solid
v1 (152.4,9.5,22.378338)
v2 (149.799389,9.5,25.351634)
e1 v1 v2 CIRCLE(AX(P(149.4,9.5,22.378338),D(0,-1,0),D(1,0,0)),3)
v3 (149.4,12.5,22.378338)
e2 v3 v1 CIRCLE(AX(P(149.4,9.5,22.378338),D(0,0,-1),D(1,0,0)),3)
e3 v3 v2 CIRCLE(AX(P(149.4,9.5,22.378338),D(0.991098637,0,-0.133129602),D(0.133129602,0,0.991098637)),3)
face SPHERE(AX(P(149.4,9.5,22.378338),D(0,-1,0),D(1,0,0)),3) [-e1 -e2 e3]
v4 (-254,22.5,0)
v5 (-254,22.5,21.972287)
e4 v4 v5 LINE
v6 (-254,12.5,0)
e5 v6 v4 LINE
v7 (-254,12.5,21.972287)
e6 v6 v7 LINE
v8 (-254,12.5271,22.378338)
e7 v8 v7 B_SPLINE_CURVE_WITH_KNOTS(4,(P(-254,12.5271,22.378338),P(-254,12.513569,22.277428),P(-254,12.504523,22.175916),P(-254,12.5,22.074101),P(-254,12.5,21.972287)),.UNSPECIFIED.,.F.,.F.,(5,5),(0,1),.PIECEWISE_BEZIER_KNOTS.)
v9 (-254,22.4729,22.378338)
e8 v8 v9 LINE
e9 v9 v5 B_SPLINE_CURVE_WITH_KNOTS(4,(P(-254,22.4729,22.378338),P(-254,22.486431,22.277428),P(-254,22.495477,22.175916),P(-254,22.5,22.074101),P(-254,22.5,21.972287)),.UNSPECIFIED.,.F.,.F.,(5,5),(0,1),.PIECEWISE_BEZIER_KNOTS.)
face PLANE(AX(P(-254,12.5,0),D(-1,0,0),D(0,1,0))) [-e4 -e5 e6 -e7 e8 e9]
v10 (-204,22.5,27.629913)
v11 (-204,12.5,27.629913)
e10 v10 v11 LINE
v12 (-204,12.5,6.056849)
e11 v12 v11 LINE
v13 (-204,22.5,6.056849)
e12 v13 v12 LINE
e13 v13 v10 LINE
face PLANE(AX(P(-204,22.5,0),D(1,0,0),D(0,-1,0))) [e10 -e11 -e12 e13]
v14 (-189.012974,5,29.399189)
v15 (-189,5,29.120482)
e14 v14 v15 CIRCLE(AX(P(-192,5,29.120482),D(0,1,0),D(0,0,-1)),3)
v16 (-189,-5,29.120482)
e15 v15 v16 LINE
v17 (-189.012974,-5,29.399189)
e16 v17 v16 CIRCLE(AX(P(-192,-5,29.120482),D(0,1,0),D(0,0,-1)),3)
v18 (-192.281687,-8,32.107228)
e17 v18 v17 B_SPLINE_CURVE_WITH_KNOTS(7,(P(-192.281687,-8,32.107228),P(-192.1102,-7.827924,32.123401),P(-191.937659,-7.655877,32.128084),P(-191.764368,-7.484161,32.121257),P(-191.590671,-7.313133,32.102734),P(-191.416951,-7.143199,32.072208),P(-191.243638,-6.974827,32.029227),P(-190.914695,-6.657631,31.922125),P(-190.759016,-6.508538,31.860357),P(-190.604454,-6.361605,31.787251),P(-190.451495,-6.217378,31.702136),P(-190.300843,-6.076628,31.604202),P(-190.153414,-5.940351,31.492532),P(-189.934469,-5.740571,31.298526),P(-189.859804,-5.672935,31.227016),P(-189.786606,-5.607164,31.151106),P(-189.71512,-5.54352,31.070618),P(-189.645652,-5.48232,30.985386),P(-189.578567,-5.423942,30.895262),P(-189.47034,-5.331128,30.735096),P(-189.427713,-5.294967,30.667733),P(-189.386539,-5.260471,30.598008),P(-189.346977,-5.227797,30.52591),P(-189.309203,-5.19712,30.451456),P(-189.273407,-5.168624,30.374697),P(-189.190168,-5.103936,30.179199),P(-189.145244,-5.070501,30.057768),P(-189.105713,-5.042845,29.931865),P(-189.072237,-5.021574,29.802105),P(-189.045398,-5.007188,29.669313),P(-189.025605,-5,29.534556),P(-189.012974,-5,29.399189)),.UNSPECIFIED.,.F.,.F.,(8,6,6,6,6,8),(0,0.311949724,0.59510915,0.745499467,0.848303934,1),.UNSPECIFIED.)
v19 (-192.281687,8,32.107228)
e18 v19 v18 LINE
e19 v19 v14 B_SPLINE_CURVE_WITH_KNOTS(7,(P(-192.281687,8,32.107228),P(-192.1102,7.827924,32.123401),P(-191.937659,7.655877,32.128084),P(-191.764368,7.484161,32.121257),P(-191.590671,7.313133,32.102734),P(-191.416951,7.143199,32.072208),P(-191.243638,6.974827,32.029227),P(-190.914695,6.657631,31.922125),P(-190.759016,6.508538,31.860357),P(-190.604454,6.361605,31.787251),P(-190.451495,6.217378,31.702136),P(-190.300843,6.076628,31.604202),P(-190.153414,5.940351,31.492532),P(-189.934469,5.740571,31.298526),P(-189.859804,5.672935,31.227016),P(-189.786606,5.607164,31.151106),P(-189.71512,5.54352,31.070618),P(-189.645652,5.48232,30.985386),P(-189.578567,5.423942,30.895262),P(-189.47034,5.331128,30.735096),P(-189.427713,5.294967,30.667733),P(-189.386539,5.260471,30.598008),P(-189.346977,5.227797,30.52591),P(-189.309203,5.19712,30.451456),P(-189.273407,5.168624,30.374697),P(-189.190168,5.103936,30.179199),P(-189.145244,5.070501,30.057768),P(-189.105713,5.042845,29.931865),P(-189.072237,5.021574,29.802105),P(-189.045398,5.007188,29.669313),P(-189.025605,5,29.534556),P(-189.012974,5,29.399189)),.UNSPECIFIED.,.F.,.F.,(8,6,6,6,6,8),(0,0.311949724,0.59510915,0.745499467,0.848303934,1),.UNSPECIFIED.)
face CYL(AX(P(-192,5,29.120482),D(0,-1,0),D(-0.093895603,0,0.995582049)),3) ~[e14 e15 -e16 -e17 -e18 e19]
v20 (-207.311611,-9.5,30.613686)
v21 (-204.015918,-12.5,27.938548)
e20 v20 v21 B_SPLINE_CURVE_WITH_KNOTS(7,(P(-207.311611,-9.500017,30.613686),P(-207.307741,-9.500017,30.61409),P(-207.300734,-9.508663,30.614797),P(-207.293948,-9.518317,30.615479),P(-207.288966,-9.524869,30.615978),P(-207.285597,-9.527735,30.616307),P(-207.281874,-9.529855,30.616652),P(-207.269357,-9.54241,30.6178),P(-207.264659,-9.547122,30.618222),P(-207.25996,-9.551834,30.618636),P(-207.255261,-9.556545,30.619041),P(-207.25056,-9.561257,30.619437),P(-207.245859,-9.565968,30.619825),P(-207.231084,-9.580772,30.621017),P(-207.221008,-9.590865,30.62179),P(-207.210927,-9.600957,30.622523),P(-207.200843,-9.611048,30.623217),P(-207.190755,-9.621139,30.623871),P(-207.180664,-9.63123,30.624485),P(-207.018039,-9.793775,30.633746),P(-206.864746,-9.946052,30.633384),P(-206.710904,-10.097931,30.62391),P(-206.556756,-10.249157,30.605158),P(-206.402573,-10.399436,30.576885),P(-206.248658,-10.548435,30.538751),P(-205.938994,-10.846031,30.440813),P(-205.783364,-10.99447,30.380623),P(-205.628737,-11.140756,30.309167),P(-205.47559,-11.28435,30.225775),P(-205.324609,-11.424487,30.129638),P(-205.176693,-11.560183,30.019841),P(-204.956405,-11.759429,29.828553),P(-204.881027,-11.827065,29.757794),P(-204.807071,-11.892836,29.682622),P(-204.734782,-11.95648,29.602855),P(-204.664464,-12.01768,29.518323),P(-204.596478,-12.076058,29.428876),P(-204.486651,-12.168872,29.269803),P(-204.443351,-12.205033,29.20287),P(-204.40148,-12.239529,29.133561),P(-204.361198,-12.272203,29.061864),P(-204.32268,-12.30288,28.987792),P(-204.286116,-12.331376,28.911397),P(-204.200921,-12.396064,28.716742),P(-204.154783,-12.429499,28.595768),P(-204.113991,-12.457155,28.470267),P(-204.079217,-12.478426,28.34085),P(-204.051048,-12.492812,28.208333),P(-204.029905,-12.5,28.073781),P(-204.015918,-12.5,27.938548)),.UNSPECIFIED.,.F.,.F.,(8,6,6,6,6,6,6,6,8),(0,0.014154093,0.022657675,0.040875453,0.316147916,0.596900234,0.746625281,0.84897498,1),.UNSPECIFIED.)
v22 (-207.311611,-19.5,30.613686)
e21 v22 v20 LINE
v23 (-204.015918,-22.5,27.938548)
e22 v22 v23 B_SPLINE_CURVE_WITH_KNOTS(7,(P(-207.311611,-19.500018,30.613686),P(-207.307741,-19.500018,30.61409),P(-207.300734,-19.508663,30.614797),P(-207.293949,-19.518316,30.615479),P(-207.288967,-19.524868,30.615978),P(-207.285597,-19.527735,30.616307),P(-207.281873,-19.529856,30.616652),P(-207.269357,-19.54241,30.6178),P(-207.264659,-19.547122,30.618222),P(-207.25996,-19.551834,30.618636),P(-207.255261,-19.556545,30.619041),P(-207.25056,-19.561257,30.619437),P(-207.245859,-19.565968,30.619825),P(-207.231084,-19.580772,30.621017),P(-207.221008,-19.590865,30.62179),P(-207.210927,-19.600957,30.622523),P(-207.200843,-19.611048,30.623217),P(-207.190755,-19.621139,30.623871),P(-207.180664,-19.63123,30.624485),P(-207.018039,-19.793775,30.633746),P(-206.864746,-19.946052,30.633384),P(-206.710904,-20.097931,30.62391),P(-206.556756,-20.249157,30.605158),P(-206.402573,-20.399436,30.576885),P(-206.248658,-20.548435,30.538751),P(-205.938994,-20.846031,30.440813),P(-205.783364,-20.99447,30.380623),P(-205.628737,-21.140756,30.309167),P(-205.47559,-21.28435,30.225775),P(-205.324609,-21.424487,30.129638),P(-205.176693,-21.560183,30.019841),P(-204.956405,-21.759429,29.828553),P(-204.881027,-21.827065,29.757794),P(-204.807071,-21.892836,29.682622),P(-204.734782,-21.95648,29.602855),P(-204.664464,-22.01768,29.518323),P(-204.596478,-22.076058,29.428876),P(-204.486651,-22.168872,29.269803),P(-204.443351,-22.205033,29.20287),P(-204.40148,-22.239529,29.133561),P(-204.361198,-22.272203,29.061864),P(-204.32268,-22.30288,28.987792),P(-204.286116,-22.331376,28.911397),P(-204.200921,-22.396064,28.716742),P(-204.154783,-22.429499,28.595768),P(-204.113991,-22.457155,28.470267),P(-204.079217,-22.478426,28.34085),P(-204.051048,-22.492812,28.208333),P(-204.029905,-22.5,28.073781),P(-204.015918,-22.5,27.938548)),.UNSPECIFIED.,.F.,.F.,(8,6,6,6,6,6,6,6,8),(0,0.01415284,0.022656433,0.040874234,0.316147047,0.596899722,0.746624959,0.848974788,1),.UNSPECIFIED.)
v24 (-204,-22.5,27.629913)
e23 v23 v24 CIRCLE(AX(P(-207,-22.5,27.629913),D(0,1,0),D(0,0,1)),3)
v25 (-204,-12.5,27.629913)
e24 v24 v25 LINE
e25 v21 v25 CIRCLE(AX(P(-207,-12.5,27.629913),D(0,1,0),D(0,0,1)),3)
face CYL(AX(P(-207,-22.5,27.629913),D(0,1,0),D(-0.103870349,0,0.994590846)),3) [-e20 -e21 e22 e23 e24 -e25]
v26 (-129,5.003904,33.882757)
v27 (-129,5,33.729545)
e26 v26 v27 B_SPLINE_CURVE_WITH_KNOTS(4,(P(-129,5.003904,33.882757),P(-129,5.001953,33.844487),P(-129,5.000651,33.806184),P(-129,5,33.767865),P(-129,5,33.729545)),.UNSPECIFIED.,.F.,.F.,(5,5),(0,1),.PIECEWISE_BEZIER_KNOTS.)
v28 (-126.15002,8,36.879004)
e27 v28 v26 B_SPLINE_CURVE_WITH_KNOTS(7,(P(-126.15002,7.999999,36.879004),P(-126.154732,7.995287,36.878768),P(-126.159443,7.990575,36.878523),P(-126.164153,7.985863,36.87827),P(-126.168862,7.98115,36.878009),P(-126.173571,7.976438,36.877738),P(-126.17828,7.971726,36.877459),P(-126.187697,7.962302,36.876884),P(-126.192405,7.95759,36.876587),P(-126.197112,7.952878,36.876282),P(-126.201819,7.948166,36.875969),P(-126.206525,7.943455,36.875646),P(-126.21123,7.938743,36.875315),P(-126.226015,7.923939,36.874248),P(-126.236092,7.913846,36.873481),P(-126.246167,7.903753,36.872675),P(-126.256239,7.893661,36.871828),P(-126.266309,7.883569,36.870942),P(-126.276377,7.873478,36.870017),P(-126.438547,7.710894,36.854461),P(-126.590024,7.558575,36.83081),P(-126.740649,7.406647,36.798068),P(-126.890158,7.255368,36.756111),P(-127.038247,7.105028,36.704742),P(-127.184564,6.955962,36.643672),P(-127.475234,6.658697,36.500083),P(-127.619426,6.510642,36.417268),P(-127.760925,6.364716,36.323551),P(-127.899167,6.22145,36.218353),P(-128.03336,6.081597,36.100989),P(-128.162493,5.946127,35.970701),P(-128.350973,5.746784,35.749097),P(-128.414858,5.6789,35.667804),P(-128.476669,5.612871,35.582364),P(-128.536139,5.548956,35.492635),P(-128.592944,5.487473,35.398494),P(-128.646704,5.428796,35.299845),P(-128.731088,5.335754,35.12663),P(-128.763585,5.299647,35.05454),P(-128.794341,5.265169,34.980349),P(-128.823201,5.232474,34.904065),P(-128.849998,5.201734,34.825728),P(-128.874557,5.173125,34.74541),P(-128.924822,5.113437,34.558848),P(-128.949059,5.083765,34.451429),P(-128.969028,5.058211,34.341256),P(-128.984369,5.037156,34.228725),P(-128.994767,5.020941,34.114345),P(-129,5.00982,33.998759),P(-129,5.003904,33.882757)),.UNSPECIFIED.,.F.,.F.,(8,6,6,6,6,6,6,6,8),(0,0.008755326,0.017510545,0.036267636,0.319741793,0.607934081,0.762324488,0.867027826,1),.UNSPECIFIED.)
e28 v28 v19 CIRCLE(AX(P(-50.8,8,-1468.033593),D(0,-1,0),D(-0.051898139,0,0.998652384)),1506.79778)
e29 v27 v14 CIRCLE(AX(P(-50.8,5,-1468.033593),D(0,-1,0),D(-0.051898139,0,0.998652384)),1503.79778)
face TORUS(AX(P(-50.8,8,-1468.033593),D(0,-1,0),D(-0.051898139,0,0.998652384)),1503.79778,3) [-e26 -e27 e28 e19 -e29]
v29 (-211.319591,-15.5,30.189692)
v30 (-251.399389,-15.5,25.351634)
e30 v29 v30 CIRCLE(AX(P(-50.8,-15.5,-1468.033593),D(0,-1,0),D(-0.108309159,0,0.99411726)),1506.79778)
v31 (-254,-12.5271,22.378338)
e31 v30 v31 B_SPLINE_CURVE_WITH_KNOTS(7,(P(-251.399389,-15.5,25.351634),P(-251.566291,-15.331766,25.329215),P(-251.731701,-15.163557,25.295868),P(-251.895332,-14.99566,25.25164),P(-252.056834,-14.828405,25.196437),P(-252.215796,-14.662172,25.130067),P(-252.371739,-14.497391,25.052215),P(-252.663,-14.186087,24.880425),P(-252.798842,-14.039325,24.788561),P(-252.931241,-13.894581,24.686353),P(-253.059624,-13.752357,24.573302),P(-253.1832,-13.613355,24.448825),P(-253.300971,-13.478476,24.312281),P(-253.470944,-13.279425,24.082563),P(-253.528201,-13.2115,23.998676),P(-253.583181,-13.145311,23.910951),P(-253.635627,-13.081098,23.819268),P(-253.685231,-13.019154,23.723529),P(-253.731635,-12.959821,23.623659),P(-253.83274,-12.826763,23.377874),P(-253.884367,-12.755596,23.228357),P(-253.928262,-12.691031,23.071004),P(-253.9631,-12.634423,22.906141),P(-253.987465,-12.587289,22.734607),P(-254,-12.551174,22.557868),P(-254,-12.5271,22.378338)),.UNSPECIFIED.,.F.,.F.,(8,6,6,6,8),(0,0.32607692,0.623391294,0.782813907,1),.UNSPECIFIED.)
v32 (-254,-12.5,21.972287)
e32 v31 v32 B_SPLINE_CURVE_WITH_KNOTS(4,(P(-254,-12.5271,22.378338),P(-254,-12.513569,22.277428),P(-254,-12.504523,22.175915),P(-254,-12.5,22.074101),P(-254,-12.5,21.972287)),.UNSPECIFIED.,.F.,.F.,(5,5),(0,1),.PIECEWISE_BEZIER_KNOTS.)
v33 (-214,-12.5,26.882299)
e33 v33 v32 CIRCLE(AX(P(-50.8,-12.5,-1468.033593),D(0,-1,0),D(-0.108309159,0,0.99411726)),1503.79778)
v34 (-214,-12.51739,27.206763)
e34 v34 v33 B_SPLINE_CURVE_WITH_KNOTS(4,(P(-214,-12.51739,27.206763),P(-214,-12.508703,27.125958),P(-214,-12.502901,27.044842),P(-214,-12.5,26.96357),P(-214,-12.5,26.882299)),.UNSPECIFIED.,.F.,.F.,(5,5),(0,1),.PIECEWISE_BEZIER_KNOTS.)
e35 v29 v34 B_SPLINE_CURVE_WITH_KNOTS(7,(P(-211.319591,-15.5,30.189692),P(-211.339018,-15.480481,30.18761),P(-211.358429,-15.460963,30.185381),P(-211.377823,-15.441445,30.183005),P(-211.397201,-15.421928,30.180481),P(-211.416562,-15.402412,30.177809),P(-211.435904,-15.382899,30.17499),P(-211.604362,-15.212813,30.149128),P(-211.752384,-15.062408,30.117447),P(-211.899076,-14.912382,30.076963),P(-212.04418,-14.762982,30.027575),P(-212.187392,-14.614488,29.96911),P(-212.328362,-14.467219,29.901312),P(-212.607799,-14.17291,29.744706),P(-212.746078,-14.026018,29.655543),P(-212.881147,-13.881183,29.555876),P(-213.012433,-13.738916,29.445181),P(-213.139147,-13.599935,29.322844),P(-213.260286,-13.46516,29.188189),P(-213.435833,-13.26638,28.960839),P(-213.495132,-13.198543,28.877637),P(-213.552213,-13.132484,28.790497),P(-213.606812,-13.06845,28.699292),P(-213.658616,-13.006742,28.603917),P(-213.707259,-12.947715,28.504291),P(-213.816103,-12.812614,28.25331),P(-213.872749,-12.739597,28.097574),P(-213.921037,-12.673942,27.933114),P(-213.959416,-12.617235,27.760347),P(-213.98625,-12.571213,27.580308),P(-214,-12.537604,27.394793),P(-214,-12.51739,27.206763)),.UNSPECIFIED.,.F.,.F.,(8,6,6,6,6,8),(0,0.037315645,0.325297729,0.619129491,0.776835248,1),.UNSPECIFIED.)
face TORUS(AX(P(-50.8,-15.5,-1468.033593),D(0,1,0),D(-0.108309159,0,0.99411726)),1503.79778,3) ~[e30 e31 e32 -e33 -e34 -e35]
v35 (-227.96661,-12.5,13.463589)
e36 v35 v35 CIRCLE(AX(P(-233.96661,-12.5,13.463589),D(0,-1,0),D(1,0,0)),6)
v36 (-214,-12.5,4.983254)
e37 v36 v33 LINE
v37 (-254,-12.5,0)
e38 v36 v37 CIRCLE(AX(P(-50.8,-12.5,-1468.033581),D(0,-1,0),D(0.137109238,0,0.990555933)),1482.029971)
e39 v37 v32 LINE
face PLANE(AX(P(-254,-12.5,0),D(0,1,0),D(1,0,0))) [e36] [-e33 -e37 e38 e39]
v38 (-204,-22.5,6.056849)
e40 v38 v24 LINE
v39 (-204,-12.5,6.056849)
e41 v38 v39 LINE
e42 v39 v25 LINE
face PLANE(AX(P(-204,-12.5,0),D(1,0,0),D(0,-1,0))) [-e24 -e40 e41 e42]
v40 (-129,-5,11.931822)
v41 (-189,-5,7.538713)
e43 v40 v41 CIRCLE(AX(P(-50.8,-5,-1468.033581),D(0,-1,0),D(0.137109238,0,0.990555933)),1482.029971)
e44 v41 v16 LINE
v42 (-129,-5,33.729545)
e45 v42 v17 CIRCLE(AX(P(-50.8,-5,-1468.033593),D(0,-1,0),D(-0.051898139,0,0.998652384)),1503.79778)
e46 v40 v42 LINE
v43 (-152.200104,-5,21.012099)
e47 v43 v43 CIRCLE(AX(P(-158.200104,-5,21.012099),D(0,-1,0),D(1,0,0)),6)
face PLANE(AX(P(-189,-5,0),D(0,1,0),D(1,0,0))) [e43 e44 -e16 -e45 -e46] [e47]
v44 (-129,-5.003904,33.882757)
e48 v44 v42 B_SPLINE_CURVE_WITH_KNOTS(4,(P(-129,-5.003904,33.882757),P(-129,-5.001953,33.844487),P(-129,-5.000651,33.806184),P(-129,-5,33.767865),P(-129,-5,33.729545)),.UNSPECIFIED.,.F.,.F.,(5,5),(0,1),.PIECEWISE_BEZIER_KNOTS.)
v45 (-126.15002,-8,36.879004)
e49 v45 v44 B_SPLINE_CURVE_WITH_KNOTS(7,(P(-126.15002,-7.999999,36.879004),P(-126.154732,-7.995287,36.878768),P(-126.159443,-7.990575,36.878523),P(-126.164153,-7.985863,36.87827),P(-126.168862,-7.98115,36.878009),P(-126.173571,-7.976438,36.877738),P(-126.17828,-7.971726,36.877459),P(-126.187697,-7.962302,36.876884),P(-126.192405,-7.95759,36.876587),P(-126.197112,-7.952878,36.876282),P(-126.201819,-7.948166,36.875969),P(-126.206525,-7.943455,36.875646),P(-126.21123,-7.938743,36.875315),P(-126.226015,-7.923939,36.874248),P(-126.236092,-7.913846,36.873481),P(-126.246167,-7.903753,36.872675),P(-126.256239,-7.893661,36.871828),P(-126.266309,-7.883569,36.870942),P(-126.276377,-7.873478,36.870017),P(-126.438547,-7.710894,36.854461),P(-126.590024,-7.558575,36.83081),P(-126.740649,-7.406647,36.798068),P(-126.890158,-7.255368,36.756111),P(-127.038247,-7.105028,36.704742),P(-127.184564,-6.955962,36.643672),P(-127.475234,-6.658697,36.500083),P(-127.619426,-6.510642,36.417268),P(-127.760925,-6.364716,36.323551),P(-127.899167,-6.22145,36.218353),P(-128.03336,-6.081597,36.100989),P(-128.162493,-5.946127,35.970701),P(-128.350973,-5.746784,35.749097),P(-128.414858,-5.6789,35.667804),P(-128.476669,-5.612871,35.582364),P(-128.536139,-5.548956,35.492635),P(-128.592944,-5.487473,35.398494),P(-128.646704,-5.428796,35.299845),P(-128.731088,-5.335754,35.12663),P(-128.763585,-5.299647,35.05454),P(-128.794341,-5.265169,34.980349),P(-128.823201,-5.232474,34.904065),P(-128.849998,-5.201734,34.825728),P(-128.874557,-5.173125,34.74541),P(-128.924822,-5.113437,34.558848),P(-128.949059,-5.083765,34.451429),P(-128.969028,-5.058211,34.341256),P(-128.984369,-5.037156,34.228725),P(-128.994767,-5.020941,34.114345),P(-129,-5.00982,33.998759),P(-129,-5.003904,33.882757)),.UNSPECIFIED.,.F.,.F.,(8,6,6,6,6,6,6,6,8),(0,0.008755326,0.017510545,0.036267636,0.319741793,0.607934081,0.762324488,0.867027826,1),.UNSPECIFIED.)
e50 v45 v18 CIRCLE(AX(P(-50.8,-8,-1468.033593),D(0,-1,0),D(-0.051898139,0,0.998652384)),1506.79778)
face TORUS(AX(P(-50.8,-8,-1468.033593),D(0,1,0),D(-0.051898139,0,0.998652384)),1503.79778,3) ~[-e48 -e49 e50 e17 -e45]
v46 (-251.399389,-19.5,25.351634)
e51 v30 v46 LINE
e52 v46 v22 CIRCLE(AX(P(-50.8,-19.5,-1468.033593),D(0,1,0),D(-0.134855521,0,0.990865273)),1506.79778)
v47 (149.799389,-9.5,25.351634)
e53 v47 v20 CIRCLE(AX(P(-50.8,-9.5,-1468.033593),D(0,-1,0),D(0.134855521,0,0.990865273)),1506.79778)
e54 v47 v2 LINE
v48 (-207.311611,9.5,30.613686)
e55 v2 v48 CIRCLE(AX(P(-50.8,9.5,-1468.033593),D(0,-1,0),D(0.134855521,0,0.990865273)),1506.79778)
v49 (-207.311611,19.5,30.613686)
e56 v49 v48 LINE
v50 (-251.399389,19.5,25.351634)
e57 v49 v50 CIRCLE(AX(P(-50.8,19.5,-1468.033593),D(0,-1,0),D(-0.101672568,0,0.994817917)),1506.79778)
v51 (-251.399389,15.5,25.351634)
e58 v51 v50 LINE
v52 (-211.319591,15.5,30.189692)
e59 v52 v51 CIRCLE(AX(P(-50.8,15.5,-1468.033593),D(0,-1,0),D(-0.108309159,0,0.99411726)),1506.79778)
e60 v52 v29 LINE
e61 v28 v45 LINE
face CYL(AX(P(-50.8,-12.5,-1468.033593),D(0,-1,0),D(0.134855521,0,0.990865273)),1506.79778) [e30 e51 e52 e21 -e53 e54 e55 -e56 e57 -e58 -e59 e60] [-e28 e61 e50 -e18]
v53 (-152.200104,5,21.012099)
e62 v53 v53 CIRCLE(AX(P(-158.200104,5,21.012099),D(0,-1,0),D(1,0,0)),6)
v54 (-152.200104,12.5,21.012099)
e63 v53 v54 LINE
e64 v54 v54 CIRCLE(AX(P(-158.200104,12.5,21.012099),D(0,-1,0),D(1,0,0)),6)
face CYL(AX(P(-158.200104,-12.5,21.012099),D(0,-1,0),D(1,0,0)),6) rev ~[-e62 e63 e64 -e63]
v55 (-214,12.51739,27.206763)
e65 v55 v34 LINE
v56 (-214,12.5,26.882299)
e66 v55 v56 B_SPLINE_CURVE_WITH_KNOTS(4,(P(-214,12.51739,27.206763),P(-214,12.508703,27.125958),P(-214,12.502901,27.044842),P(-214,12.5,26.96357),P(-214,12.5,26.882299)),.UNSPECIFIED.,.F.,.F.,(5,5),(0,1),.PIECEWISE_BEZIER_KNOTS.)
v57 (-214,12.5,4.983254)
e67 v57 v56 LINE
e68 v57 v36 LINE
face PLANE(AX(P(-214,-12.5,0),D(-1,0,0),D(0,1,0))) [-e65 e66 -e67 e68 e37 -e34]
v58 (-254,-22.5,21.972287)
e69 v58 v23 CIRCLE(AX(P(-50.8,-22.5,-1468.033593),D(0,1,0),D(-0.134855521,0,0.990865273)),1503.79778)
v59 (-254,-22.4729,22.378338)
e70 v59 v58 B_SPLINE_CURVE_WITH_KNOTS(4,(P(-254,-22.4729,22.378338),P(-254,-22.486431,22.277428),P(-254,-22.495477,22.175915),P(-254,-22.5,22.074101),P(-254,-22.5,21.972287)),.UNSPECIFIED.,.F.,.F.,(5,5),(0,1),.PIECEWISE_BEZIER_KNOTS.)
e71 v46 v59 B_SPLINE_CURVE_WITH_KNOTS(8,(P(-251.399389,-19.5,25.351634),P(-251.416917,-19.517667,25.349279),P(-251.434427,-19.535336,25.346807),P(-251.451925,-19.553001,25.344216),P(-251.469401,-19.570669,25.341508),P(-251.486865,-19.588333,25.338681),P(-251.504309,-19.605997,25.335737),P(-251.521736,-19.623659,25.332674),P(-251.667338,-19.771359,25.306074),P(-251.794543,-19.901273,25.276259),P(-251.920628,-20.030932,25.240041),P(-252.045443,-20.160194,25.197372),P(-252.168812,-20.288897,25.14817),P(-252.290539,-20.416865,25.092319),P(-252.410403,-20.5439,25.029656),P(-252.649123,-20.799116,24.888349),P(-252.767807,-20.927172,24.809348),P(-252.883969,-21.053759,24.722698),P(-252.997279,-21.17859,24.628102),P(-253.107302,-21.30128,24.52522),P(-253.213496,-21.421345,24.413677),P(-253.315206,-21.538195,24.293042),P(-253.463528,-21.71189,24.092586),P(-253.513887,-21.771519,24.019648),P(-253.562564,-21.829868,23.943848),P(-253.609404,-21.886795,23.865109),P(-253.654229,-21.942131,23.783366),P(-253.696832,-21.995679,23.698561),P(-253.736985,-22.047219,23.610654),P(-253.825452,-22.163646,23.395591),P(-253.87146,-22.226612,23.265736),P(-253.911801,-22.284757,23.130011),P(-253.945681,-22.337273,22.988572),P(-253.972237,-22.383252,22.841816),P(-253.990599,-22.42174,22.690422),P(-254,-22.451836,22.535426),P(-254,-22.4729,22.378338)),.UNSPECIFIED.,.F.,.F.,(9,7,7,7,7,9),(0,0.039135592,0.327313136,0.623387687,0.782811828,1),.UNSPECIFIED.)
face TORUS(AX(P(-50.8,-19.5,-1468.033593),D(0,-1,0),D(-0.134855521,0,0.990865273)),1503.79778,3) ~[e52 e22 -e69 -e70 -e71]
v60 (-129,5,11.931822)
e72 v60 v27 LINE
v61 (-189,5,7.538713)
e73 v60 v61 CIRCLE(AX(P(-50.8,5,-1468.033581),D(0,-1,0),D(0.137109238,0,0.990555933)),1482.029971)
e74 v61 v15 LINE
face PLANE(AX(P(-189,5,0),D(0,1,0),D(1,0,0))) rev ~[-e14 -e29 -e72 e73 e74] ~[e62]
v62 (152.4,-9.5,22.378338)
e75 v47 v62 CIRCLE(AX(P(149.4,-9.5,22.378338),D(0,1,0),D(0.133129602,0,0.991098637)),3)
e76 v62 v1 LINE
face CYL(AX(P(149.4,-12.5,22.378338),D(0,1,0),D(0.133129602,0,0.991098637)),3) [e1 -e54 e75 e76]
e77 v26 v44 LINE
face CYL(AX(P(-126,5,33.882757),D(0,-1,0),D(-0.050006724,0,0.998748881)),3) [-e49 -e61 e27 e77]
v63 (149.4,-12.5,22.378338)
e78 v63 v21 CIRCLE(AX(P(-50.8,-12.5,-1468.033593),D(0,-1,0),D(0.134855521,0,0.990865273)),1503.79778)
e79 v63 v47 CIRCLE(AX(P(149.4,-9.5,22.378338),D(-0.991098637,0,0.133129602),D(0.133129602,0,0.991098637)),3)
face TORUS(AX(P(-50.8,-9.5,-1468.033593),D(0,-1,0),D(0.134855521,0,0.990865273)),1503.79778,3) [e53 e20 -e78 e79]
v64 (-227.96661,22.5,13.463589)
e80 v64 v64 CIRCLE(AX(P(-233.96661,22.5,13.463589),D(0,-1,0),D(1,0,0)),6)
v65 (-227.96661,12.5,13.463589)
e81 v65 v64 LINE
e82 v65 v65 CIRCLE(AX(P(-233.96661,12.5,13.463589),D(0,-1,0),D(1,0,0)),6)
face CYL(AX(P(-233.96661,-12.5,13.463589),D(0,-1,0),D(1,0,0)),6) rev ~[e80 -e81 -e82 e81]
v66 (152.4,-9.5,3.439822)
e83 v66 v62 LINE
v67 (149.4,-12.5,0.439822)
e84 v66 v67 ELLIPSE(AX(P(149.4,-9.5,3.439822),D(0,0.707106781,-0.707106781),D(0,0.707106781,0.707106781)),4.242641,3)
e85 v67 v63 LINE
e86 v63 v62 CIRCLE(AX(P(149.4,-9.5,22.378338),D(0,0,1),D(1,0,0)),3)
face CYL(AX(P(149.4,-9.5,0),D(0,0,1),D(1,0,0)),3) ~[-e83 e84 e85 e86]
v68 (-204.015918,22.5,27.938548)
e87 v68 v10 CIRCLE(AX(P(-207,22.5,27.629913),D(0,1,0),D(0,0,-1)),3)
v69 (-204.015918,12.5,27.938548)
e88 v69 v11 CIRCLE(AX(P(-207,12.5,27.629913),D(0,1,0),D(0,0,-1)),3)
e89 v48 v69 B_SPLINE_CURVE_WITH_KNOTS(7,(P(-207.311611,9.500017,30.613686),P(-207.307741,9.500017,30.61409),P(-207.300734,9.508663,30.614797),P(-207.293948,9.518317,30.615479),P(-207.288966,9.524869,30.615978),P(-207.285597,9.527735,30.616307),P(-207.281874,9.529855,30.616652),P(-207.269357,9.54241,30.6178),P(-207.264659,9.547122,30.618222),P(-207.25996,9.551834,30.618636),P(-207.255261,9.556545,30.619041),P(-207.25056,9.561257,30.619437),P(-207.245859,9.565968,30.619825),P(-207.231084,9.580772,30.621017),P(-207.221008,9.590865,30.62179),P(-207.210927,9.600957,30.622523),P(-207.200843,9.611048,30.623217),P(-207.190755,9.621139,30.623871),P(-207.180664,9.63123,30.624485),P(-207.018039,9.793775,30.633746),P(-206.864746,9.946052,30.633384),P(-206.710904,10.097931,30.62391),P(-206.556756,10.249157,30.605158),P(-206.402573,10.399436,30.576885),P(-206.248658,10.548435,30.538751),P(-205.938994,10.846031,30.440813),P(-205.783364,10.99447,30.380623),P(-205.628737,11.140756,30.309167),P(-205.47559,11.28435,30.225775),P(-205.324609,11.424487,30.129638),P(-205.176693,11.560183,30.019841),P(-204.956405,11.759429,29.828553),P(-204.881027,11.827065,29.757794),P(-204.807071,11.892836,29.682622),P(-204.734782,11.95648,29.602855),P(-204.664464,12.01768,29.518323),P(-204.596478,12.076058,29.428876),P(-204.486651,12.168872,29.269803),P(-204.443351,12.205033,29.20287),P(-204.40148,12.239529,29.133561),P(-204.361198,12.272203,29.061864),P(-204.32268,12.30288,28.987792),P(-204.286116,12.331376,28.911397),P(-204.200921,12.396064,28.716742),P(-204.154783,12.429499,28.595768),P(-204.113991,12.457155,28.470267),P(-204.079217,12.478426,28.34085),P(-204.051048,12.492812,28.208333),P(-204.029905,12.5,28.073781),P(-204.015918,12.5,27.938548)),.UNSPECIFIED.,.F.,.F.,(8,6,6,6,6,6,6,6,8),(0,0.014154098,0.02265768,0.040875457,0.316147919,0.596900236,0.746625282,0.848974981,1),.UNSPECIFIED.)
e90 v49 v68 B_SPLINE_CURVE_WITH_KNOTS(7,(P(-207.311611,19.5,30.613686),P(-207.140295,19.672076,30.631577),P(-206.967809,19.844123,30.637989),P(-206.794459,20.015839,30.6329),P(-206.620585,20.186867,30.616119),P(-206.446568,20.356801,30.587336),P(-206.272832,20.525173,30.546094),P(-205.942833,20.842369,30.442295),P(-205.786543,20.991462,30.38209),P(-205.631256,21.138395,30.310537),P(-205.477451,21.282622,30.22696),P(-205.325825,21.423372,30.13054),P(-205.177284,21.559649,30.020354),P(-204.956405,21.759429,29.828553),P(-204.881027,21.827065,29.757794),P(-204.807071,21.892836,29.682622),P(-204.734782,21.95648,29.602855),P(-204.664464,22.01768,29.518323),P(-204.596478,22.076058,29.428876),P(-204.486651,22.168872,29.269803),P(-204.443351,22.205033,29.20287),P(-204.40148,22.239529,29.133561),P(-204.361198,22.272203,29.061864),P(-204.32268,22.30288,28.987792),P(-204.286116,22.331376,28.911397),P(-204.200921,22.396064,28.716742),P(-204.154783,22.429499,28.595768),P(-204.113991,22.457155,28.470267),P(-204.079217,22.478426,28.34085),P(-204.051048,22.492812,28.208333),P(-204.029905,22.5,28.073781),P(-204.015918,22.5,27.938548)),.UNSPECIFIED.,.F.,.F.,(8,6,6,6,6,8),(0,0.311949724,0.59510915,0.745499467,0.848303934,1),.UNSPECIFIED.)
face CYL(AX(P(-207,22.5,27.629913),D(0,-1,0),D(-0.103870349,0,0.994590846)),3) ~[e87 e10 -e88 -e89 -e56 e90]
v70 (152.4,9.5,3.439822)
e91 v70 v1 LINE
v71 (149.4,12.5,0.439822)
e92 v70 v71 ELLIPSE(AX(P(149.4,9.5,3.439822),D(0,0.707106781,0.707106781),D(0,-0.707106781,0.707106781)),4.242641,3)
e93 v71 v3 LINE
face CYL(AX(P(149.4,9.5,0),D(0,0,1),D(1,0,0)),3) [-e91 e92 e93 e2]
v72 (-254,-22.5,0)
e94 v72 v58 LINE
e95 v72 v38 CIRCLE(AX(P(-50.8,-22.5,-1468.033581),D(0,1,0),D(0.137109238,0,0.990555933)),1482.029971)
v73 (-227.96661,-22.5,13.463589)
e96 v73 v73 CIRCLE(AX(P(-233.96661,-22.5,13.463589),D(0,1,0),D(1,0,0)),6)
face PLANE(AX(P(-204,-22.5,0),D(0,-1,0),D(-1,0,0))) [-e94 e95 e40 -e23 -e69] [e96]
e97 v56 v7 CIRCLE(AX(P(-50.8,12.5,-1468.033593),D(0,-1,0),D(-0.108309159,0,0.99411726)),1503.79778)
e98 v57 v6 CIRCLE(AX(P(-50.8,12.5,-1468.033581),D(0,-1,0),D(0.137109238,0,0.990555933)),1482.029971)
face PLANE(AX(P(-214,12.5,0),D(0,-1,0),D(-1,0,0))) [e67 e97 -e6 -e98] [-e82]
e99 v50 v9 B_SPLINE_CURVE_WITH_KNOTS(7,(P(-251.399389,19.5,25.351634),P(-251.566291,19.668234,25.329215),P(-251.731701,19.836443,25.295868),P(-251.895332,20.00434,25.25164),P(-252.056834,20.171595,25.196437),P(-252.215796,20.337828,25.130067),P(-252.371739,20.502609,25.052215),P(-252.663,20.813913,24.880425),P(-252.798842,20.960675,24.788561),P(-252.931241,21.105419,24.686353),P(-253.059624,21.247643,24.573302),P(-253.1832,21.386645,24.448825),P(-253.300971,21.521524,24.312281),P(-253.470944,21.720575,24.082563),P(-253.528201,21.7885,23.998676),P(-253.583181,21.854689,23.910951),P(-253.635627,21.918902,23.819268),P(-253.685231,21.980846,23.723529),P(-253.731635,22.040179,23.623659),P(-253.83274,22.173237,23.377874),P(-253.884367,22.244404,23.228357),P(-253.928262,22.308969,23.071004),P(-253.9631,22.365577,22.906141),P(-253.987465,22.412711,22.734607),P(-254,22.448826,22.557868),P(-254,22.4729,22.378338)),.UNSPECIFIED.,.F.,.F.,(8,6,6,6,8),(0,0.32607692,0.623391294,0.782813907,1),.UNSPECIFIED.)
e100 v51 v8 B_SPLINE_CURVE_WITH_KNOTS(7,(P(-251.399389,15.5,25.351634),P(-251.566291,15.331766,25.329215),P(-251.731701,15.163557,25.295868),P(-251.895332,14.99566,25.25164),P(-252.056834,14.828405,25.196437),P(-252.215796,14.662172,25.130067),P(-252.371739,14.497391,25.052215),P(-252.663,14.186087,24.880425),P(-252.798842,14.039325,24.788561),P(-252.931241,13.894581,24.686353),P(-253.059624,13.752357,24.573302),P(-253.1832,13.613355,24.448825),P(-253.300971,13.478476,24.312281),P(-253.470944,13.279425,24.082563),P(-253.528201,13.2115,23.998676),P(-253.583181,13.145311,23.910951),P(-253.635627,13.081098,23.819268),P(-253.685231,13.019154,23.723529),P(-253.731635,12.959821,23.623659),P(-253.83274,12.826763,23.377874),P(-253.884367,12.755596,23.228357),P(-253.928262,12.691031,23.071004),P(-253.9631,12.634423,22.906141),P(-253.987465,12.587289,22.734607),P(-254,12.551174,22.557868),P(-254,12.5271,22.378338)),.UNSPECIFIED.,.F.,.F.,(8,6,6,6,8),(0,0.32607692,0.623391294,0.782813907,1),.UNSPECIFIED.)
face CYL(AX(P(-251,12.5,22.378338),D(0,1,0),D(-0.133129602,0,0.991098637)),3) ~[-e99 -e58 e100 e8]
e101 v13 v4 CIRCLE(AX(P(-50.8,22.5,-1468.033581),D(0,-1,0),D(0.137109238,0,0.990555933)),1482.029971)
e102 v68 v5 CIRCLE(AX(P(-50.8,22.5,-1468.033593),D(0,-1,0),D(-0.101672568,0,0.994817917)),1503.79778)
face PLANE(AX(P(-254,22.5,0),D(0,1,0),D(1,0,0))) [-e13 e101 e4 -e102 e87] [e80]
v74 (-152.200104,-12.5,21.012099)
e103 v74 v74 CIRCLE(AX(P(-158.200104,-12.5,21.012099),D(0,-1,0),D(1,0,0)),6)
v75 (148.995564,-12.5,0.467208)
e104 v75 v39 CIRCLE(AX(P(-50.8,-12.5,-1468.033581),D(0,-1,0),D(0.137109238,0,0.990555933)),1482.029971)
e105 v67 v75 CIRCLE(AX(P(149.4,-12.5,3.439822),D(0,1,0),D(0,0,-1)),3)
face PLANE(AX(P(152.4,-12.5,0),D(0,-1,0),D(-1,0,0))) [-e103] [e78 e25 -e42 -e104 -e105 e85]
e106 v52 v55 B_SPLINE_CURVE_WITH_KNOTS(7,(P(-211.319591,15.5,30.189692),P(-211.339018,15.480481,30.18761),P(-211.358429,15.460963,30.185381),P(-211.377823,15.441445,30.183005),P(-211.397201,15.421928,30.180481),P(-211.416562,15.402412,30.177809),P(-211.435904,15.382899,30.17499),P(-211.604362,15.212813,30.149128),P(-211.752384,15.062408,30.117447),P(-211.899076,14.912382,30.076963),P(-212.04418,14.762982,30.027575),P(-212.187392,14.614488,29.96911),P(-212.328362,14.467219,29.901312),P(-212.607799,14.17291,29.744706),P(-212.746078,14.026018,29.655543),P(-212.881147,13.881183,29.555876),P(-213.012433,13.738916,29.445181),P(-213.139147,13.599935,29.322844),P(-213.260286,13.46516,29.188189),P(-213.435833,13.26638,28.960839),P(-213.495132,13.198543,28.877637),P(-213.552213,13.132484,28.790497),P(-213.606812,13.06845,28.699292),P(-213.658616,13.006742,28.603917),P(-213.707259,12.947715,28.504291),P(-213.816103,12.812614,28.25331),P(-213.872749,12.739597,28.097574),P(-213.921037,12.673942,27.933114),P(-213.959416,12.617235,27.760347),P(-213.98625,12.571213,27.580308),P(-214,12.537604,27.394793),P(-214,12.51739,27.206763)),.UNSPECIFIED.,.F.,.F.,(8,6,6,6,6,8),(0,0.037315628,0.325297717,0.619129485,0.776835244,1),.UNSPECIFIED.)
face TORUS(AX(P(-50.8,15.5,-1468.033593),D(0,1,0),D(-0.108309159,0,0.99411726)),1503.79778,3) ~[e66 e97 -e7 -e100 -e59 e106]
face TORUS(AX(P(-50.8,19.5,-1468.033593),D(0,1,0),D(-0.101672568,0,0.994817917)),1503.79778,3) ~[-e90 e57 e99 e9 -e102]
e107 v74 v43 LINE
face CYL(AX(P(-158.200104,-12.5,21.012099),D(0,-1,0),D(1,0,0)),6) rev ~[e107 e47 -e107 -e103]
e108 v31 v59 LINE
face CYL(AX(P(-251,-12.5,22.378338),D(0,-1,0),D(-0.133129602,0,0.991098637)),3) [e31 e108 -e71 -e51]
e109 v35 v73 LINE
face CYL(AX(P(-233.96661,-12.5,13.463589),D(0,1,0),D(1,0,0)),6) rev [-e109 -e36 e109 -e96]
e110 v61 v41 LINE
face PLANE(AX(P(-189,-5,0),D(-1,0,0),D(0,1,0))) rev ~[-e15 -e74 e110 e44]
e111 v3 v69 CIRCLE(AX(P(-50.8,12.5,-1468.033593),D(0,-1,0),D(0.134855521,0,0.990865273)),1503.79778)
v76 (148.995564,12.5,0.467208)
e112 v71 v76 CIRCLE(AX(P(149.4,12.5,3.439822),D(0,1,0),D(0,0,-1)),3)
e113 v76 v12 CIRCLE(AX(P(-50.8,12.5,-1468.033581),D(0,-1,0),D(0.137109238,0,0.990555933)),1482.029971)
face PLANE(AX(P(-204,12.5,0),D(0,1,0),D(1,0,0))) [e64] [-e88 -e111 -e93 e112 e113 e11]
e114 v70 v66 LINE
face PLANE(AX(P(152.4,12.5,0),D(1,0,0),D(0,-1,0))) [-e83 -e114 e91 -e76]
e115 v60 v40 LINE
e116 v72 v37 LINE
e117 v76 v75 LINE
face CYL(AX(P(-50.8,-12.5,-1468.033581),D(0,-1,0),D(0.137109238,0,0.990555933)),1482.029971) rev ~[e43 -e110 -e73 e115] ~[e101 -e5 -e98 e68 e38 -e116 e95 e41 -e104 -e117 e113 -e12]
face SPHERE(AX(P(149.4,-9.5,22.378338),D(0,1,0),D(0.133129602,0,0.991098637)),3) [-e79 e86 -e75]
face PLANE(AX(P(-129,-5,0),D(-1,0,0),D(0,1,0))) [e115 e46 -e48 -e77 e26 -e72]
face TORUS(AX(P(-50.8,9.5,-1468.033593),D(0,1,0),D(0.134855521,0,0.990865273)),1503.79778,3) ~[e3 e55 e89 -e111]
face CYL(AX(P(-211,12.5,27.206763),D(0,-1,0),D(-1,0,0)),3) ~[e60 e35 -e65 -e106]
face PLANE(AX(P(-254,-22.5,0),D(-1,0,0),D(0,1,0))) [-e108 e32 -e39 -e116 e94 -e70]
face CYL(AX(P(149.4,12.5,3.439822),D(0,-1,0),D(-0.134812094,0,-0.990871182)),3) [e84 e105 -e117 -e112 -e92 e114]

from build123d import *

# Parameters (mm, degrees)
SKETCH011_W          = 60
SKETCH011_H          = 10
PAD005_DEPTH         = 40
POCKET002_DEPTH      = 35.001
POCKET002_DEPTH_BACK = 10.001
FILLET002_R          = 3
SKETCH013_R          = 6
POCKET003_DEPTH      = 35.001
POCKET003_DEPTH_BACK = 10.001


with BuildPart() as part:
    # Sketch011 → Pad005 (new body)
    with BuildSketch(Plane.XY):
        Polygon((-214, -12.5), (-214, 12.5), (-254, 12.5), (-254, 22.5), (-204, 22.5), (-204, 12.5), (152.4, 12.5), (152.4, -12.5), (-204, -12.5), (-204, -22.5), (-254, -22.5), (-254, -12.5), align=None)
        with Locations((-159, 0)):
            Rectangle(SKETCH011_W, SKETCH011_H, mode=Mode.SUBTRACT)
    extrude(amount=PAD005_DEPTH)

    # Sketch012 (on Face10 of Pad005) → Pocket002 (cut, two sides)
    with BuildSketch(Plane.XZ.offset(12.5)) as pocket002_sk:
        with BuildLine():
            ThreePointArc((152.4, 0), (-50.8, 13.99639), (-254, 0))
            Line((-254, 0), (152.4, 0))
        make_face()
        with BuildLine():
            ThreePointArc((152.4, 25), (-50.8, 38.764187), (-254, 25))
            Line((-254, 25), (-254, 40))
            Line((-254, 40), (152.4, 40))
            Line((152.4, 40), (152.4, 25))
        make_face()
    extrude(amount=-POCKET002_DEPTH, mode=Mode.SUBTRACT)
    extrude(pocket002_sk.sketch, amount=POCKET002_DEPTH_BACK, mode=Mode.SUBTRACT)

    # Fillet002
    fillet002_edges = [part.edges().sort_by_distance(p)[0] for p in [
        (152.4, 0, 0),
        (152.4, -12.5, 12.5),
        (152.4, 0, 25),
        (152.4, 12.5, 12.5),
        (-25.623265, -12.5, 38.553836),
        (-204, -17.5, 30.955836),
        (-229.02488, -22.5, 28.186792),
        (-254, -17.5, 25),
        (-234.016382, -12.5, 27.583774),
        (-214, 0, 29.900087),
        (-234.016382, 12.5, 27.583774),
        (-254, 17.5, 25),
        (-229.02488, 22.5, 28.186792),
        (-204, 17.5, 30.955836),
        (-25.623265, 12.5, 38.553836),
        (-189, 0, 32.41311),
        (-159.021563, -5, 34.872806),
        (-129, 0, 36.733601),
        (-159.021563, 5, 34.872806),
    ]]
    fillet(fillet002_edges, radius=FILLET002_R)

    # Sketch013 (on Face11 of Fillet002) → Pocket003 (cut, two sides)
    with BuildSketch(Plane.XZ.offset(12.5)) as pocket003_sk:
        with Locations((-158.200104, 21.012099)):
            Circle(SKETCH013_R)
        with Locations((-233.96661, 13.463589)):
            Circle(SKETCH013_R)
    extrude(amount=-POCKET003_DEPTH, mode=Mode.SUBTRACT)
    extrude(pocket003_sk.sketch, amount=POCKET003_DEPTH_BACK, mode=Mode.SUBTRACT)


solid = part.part
